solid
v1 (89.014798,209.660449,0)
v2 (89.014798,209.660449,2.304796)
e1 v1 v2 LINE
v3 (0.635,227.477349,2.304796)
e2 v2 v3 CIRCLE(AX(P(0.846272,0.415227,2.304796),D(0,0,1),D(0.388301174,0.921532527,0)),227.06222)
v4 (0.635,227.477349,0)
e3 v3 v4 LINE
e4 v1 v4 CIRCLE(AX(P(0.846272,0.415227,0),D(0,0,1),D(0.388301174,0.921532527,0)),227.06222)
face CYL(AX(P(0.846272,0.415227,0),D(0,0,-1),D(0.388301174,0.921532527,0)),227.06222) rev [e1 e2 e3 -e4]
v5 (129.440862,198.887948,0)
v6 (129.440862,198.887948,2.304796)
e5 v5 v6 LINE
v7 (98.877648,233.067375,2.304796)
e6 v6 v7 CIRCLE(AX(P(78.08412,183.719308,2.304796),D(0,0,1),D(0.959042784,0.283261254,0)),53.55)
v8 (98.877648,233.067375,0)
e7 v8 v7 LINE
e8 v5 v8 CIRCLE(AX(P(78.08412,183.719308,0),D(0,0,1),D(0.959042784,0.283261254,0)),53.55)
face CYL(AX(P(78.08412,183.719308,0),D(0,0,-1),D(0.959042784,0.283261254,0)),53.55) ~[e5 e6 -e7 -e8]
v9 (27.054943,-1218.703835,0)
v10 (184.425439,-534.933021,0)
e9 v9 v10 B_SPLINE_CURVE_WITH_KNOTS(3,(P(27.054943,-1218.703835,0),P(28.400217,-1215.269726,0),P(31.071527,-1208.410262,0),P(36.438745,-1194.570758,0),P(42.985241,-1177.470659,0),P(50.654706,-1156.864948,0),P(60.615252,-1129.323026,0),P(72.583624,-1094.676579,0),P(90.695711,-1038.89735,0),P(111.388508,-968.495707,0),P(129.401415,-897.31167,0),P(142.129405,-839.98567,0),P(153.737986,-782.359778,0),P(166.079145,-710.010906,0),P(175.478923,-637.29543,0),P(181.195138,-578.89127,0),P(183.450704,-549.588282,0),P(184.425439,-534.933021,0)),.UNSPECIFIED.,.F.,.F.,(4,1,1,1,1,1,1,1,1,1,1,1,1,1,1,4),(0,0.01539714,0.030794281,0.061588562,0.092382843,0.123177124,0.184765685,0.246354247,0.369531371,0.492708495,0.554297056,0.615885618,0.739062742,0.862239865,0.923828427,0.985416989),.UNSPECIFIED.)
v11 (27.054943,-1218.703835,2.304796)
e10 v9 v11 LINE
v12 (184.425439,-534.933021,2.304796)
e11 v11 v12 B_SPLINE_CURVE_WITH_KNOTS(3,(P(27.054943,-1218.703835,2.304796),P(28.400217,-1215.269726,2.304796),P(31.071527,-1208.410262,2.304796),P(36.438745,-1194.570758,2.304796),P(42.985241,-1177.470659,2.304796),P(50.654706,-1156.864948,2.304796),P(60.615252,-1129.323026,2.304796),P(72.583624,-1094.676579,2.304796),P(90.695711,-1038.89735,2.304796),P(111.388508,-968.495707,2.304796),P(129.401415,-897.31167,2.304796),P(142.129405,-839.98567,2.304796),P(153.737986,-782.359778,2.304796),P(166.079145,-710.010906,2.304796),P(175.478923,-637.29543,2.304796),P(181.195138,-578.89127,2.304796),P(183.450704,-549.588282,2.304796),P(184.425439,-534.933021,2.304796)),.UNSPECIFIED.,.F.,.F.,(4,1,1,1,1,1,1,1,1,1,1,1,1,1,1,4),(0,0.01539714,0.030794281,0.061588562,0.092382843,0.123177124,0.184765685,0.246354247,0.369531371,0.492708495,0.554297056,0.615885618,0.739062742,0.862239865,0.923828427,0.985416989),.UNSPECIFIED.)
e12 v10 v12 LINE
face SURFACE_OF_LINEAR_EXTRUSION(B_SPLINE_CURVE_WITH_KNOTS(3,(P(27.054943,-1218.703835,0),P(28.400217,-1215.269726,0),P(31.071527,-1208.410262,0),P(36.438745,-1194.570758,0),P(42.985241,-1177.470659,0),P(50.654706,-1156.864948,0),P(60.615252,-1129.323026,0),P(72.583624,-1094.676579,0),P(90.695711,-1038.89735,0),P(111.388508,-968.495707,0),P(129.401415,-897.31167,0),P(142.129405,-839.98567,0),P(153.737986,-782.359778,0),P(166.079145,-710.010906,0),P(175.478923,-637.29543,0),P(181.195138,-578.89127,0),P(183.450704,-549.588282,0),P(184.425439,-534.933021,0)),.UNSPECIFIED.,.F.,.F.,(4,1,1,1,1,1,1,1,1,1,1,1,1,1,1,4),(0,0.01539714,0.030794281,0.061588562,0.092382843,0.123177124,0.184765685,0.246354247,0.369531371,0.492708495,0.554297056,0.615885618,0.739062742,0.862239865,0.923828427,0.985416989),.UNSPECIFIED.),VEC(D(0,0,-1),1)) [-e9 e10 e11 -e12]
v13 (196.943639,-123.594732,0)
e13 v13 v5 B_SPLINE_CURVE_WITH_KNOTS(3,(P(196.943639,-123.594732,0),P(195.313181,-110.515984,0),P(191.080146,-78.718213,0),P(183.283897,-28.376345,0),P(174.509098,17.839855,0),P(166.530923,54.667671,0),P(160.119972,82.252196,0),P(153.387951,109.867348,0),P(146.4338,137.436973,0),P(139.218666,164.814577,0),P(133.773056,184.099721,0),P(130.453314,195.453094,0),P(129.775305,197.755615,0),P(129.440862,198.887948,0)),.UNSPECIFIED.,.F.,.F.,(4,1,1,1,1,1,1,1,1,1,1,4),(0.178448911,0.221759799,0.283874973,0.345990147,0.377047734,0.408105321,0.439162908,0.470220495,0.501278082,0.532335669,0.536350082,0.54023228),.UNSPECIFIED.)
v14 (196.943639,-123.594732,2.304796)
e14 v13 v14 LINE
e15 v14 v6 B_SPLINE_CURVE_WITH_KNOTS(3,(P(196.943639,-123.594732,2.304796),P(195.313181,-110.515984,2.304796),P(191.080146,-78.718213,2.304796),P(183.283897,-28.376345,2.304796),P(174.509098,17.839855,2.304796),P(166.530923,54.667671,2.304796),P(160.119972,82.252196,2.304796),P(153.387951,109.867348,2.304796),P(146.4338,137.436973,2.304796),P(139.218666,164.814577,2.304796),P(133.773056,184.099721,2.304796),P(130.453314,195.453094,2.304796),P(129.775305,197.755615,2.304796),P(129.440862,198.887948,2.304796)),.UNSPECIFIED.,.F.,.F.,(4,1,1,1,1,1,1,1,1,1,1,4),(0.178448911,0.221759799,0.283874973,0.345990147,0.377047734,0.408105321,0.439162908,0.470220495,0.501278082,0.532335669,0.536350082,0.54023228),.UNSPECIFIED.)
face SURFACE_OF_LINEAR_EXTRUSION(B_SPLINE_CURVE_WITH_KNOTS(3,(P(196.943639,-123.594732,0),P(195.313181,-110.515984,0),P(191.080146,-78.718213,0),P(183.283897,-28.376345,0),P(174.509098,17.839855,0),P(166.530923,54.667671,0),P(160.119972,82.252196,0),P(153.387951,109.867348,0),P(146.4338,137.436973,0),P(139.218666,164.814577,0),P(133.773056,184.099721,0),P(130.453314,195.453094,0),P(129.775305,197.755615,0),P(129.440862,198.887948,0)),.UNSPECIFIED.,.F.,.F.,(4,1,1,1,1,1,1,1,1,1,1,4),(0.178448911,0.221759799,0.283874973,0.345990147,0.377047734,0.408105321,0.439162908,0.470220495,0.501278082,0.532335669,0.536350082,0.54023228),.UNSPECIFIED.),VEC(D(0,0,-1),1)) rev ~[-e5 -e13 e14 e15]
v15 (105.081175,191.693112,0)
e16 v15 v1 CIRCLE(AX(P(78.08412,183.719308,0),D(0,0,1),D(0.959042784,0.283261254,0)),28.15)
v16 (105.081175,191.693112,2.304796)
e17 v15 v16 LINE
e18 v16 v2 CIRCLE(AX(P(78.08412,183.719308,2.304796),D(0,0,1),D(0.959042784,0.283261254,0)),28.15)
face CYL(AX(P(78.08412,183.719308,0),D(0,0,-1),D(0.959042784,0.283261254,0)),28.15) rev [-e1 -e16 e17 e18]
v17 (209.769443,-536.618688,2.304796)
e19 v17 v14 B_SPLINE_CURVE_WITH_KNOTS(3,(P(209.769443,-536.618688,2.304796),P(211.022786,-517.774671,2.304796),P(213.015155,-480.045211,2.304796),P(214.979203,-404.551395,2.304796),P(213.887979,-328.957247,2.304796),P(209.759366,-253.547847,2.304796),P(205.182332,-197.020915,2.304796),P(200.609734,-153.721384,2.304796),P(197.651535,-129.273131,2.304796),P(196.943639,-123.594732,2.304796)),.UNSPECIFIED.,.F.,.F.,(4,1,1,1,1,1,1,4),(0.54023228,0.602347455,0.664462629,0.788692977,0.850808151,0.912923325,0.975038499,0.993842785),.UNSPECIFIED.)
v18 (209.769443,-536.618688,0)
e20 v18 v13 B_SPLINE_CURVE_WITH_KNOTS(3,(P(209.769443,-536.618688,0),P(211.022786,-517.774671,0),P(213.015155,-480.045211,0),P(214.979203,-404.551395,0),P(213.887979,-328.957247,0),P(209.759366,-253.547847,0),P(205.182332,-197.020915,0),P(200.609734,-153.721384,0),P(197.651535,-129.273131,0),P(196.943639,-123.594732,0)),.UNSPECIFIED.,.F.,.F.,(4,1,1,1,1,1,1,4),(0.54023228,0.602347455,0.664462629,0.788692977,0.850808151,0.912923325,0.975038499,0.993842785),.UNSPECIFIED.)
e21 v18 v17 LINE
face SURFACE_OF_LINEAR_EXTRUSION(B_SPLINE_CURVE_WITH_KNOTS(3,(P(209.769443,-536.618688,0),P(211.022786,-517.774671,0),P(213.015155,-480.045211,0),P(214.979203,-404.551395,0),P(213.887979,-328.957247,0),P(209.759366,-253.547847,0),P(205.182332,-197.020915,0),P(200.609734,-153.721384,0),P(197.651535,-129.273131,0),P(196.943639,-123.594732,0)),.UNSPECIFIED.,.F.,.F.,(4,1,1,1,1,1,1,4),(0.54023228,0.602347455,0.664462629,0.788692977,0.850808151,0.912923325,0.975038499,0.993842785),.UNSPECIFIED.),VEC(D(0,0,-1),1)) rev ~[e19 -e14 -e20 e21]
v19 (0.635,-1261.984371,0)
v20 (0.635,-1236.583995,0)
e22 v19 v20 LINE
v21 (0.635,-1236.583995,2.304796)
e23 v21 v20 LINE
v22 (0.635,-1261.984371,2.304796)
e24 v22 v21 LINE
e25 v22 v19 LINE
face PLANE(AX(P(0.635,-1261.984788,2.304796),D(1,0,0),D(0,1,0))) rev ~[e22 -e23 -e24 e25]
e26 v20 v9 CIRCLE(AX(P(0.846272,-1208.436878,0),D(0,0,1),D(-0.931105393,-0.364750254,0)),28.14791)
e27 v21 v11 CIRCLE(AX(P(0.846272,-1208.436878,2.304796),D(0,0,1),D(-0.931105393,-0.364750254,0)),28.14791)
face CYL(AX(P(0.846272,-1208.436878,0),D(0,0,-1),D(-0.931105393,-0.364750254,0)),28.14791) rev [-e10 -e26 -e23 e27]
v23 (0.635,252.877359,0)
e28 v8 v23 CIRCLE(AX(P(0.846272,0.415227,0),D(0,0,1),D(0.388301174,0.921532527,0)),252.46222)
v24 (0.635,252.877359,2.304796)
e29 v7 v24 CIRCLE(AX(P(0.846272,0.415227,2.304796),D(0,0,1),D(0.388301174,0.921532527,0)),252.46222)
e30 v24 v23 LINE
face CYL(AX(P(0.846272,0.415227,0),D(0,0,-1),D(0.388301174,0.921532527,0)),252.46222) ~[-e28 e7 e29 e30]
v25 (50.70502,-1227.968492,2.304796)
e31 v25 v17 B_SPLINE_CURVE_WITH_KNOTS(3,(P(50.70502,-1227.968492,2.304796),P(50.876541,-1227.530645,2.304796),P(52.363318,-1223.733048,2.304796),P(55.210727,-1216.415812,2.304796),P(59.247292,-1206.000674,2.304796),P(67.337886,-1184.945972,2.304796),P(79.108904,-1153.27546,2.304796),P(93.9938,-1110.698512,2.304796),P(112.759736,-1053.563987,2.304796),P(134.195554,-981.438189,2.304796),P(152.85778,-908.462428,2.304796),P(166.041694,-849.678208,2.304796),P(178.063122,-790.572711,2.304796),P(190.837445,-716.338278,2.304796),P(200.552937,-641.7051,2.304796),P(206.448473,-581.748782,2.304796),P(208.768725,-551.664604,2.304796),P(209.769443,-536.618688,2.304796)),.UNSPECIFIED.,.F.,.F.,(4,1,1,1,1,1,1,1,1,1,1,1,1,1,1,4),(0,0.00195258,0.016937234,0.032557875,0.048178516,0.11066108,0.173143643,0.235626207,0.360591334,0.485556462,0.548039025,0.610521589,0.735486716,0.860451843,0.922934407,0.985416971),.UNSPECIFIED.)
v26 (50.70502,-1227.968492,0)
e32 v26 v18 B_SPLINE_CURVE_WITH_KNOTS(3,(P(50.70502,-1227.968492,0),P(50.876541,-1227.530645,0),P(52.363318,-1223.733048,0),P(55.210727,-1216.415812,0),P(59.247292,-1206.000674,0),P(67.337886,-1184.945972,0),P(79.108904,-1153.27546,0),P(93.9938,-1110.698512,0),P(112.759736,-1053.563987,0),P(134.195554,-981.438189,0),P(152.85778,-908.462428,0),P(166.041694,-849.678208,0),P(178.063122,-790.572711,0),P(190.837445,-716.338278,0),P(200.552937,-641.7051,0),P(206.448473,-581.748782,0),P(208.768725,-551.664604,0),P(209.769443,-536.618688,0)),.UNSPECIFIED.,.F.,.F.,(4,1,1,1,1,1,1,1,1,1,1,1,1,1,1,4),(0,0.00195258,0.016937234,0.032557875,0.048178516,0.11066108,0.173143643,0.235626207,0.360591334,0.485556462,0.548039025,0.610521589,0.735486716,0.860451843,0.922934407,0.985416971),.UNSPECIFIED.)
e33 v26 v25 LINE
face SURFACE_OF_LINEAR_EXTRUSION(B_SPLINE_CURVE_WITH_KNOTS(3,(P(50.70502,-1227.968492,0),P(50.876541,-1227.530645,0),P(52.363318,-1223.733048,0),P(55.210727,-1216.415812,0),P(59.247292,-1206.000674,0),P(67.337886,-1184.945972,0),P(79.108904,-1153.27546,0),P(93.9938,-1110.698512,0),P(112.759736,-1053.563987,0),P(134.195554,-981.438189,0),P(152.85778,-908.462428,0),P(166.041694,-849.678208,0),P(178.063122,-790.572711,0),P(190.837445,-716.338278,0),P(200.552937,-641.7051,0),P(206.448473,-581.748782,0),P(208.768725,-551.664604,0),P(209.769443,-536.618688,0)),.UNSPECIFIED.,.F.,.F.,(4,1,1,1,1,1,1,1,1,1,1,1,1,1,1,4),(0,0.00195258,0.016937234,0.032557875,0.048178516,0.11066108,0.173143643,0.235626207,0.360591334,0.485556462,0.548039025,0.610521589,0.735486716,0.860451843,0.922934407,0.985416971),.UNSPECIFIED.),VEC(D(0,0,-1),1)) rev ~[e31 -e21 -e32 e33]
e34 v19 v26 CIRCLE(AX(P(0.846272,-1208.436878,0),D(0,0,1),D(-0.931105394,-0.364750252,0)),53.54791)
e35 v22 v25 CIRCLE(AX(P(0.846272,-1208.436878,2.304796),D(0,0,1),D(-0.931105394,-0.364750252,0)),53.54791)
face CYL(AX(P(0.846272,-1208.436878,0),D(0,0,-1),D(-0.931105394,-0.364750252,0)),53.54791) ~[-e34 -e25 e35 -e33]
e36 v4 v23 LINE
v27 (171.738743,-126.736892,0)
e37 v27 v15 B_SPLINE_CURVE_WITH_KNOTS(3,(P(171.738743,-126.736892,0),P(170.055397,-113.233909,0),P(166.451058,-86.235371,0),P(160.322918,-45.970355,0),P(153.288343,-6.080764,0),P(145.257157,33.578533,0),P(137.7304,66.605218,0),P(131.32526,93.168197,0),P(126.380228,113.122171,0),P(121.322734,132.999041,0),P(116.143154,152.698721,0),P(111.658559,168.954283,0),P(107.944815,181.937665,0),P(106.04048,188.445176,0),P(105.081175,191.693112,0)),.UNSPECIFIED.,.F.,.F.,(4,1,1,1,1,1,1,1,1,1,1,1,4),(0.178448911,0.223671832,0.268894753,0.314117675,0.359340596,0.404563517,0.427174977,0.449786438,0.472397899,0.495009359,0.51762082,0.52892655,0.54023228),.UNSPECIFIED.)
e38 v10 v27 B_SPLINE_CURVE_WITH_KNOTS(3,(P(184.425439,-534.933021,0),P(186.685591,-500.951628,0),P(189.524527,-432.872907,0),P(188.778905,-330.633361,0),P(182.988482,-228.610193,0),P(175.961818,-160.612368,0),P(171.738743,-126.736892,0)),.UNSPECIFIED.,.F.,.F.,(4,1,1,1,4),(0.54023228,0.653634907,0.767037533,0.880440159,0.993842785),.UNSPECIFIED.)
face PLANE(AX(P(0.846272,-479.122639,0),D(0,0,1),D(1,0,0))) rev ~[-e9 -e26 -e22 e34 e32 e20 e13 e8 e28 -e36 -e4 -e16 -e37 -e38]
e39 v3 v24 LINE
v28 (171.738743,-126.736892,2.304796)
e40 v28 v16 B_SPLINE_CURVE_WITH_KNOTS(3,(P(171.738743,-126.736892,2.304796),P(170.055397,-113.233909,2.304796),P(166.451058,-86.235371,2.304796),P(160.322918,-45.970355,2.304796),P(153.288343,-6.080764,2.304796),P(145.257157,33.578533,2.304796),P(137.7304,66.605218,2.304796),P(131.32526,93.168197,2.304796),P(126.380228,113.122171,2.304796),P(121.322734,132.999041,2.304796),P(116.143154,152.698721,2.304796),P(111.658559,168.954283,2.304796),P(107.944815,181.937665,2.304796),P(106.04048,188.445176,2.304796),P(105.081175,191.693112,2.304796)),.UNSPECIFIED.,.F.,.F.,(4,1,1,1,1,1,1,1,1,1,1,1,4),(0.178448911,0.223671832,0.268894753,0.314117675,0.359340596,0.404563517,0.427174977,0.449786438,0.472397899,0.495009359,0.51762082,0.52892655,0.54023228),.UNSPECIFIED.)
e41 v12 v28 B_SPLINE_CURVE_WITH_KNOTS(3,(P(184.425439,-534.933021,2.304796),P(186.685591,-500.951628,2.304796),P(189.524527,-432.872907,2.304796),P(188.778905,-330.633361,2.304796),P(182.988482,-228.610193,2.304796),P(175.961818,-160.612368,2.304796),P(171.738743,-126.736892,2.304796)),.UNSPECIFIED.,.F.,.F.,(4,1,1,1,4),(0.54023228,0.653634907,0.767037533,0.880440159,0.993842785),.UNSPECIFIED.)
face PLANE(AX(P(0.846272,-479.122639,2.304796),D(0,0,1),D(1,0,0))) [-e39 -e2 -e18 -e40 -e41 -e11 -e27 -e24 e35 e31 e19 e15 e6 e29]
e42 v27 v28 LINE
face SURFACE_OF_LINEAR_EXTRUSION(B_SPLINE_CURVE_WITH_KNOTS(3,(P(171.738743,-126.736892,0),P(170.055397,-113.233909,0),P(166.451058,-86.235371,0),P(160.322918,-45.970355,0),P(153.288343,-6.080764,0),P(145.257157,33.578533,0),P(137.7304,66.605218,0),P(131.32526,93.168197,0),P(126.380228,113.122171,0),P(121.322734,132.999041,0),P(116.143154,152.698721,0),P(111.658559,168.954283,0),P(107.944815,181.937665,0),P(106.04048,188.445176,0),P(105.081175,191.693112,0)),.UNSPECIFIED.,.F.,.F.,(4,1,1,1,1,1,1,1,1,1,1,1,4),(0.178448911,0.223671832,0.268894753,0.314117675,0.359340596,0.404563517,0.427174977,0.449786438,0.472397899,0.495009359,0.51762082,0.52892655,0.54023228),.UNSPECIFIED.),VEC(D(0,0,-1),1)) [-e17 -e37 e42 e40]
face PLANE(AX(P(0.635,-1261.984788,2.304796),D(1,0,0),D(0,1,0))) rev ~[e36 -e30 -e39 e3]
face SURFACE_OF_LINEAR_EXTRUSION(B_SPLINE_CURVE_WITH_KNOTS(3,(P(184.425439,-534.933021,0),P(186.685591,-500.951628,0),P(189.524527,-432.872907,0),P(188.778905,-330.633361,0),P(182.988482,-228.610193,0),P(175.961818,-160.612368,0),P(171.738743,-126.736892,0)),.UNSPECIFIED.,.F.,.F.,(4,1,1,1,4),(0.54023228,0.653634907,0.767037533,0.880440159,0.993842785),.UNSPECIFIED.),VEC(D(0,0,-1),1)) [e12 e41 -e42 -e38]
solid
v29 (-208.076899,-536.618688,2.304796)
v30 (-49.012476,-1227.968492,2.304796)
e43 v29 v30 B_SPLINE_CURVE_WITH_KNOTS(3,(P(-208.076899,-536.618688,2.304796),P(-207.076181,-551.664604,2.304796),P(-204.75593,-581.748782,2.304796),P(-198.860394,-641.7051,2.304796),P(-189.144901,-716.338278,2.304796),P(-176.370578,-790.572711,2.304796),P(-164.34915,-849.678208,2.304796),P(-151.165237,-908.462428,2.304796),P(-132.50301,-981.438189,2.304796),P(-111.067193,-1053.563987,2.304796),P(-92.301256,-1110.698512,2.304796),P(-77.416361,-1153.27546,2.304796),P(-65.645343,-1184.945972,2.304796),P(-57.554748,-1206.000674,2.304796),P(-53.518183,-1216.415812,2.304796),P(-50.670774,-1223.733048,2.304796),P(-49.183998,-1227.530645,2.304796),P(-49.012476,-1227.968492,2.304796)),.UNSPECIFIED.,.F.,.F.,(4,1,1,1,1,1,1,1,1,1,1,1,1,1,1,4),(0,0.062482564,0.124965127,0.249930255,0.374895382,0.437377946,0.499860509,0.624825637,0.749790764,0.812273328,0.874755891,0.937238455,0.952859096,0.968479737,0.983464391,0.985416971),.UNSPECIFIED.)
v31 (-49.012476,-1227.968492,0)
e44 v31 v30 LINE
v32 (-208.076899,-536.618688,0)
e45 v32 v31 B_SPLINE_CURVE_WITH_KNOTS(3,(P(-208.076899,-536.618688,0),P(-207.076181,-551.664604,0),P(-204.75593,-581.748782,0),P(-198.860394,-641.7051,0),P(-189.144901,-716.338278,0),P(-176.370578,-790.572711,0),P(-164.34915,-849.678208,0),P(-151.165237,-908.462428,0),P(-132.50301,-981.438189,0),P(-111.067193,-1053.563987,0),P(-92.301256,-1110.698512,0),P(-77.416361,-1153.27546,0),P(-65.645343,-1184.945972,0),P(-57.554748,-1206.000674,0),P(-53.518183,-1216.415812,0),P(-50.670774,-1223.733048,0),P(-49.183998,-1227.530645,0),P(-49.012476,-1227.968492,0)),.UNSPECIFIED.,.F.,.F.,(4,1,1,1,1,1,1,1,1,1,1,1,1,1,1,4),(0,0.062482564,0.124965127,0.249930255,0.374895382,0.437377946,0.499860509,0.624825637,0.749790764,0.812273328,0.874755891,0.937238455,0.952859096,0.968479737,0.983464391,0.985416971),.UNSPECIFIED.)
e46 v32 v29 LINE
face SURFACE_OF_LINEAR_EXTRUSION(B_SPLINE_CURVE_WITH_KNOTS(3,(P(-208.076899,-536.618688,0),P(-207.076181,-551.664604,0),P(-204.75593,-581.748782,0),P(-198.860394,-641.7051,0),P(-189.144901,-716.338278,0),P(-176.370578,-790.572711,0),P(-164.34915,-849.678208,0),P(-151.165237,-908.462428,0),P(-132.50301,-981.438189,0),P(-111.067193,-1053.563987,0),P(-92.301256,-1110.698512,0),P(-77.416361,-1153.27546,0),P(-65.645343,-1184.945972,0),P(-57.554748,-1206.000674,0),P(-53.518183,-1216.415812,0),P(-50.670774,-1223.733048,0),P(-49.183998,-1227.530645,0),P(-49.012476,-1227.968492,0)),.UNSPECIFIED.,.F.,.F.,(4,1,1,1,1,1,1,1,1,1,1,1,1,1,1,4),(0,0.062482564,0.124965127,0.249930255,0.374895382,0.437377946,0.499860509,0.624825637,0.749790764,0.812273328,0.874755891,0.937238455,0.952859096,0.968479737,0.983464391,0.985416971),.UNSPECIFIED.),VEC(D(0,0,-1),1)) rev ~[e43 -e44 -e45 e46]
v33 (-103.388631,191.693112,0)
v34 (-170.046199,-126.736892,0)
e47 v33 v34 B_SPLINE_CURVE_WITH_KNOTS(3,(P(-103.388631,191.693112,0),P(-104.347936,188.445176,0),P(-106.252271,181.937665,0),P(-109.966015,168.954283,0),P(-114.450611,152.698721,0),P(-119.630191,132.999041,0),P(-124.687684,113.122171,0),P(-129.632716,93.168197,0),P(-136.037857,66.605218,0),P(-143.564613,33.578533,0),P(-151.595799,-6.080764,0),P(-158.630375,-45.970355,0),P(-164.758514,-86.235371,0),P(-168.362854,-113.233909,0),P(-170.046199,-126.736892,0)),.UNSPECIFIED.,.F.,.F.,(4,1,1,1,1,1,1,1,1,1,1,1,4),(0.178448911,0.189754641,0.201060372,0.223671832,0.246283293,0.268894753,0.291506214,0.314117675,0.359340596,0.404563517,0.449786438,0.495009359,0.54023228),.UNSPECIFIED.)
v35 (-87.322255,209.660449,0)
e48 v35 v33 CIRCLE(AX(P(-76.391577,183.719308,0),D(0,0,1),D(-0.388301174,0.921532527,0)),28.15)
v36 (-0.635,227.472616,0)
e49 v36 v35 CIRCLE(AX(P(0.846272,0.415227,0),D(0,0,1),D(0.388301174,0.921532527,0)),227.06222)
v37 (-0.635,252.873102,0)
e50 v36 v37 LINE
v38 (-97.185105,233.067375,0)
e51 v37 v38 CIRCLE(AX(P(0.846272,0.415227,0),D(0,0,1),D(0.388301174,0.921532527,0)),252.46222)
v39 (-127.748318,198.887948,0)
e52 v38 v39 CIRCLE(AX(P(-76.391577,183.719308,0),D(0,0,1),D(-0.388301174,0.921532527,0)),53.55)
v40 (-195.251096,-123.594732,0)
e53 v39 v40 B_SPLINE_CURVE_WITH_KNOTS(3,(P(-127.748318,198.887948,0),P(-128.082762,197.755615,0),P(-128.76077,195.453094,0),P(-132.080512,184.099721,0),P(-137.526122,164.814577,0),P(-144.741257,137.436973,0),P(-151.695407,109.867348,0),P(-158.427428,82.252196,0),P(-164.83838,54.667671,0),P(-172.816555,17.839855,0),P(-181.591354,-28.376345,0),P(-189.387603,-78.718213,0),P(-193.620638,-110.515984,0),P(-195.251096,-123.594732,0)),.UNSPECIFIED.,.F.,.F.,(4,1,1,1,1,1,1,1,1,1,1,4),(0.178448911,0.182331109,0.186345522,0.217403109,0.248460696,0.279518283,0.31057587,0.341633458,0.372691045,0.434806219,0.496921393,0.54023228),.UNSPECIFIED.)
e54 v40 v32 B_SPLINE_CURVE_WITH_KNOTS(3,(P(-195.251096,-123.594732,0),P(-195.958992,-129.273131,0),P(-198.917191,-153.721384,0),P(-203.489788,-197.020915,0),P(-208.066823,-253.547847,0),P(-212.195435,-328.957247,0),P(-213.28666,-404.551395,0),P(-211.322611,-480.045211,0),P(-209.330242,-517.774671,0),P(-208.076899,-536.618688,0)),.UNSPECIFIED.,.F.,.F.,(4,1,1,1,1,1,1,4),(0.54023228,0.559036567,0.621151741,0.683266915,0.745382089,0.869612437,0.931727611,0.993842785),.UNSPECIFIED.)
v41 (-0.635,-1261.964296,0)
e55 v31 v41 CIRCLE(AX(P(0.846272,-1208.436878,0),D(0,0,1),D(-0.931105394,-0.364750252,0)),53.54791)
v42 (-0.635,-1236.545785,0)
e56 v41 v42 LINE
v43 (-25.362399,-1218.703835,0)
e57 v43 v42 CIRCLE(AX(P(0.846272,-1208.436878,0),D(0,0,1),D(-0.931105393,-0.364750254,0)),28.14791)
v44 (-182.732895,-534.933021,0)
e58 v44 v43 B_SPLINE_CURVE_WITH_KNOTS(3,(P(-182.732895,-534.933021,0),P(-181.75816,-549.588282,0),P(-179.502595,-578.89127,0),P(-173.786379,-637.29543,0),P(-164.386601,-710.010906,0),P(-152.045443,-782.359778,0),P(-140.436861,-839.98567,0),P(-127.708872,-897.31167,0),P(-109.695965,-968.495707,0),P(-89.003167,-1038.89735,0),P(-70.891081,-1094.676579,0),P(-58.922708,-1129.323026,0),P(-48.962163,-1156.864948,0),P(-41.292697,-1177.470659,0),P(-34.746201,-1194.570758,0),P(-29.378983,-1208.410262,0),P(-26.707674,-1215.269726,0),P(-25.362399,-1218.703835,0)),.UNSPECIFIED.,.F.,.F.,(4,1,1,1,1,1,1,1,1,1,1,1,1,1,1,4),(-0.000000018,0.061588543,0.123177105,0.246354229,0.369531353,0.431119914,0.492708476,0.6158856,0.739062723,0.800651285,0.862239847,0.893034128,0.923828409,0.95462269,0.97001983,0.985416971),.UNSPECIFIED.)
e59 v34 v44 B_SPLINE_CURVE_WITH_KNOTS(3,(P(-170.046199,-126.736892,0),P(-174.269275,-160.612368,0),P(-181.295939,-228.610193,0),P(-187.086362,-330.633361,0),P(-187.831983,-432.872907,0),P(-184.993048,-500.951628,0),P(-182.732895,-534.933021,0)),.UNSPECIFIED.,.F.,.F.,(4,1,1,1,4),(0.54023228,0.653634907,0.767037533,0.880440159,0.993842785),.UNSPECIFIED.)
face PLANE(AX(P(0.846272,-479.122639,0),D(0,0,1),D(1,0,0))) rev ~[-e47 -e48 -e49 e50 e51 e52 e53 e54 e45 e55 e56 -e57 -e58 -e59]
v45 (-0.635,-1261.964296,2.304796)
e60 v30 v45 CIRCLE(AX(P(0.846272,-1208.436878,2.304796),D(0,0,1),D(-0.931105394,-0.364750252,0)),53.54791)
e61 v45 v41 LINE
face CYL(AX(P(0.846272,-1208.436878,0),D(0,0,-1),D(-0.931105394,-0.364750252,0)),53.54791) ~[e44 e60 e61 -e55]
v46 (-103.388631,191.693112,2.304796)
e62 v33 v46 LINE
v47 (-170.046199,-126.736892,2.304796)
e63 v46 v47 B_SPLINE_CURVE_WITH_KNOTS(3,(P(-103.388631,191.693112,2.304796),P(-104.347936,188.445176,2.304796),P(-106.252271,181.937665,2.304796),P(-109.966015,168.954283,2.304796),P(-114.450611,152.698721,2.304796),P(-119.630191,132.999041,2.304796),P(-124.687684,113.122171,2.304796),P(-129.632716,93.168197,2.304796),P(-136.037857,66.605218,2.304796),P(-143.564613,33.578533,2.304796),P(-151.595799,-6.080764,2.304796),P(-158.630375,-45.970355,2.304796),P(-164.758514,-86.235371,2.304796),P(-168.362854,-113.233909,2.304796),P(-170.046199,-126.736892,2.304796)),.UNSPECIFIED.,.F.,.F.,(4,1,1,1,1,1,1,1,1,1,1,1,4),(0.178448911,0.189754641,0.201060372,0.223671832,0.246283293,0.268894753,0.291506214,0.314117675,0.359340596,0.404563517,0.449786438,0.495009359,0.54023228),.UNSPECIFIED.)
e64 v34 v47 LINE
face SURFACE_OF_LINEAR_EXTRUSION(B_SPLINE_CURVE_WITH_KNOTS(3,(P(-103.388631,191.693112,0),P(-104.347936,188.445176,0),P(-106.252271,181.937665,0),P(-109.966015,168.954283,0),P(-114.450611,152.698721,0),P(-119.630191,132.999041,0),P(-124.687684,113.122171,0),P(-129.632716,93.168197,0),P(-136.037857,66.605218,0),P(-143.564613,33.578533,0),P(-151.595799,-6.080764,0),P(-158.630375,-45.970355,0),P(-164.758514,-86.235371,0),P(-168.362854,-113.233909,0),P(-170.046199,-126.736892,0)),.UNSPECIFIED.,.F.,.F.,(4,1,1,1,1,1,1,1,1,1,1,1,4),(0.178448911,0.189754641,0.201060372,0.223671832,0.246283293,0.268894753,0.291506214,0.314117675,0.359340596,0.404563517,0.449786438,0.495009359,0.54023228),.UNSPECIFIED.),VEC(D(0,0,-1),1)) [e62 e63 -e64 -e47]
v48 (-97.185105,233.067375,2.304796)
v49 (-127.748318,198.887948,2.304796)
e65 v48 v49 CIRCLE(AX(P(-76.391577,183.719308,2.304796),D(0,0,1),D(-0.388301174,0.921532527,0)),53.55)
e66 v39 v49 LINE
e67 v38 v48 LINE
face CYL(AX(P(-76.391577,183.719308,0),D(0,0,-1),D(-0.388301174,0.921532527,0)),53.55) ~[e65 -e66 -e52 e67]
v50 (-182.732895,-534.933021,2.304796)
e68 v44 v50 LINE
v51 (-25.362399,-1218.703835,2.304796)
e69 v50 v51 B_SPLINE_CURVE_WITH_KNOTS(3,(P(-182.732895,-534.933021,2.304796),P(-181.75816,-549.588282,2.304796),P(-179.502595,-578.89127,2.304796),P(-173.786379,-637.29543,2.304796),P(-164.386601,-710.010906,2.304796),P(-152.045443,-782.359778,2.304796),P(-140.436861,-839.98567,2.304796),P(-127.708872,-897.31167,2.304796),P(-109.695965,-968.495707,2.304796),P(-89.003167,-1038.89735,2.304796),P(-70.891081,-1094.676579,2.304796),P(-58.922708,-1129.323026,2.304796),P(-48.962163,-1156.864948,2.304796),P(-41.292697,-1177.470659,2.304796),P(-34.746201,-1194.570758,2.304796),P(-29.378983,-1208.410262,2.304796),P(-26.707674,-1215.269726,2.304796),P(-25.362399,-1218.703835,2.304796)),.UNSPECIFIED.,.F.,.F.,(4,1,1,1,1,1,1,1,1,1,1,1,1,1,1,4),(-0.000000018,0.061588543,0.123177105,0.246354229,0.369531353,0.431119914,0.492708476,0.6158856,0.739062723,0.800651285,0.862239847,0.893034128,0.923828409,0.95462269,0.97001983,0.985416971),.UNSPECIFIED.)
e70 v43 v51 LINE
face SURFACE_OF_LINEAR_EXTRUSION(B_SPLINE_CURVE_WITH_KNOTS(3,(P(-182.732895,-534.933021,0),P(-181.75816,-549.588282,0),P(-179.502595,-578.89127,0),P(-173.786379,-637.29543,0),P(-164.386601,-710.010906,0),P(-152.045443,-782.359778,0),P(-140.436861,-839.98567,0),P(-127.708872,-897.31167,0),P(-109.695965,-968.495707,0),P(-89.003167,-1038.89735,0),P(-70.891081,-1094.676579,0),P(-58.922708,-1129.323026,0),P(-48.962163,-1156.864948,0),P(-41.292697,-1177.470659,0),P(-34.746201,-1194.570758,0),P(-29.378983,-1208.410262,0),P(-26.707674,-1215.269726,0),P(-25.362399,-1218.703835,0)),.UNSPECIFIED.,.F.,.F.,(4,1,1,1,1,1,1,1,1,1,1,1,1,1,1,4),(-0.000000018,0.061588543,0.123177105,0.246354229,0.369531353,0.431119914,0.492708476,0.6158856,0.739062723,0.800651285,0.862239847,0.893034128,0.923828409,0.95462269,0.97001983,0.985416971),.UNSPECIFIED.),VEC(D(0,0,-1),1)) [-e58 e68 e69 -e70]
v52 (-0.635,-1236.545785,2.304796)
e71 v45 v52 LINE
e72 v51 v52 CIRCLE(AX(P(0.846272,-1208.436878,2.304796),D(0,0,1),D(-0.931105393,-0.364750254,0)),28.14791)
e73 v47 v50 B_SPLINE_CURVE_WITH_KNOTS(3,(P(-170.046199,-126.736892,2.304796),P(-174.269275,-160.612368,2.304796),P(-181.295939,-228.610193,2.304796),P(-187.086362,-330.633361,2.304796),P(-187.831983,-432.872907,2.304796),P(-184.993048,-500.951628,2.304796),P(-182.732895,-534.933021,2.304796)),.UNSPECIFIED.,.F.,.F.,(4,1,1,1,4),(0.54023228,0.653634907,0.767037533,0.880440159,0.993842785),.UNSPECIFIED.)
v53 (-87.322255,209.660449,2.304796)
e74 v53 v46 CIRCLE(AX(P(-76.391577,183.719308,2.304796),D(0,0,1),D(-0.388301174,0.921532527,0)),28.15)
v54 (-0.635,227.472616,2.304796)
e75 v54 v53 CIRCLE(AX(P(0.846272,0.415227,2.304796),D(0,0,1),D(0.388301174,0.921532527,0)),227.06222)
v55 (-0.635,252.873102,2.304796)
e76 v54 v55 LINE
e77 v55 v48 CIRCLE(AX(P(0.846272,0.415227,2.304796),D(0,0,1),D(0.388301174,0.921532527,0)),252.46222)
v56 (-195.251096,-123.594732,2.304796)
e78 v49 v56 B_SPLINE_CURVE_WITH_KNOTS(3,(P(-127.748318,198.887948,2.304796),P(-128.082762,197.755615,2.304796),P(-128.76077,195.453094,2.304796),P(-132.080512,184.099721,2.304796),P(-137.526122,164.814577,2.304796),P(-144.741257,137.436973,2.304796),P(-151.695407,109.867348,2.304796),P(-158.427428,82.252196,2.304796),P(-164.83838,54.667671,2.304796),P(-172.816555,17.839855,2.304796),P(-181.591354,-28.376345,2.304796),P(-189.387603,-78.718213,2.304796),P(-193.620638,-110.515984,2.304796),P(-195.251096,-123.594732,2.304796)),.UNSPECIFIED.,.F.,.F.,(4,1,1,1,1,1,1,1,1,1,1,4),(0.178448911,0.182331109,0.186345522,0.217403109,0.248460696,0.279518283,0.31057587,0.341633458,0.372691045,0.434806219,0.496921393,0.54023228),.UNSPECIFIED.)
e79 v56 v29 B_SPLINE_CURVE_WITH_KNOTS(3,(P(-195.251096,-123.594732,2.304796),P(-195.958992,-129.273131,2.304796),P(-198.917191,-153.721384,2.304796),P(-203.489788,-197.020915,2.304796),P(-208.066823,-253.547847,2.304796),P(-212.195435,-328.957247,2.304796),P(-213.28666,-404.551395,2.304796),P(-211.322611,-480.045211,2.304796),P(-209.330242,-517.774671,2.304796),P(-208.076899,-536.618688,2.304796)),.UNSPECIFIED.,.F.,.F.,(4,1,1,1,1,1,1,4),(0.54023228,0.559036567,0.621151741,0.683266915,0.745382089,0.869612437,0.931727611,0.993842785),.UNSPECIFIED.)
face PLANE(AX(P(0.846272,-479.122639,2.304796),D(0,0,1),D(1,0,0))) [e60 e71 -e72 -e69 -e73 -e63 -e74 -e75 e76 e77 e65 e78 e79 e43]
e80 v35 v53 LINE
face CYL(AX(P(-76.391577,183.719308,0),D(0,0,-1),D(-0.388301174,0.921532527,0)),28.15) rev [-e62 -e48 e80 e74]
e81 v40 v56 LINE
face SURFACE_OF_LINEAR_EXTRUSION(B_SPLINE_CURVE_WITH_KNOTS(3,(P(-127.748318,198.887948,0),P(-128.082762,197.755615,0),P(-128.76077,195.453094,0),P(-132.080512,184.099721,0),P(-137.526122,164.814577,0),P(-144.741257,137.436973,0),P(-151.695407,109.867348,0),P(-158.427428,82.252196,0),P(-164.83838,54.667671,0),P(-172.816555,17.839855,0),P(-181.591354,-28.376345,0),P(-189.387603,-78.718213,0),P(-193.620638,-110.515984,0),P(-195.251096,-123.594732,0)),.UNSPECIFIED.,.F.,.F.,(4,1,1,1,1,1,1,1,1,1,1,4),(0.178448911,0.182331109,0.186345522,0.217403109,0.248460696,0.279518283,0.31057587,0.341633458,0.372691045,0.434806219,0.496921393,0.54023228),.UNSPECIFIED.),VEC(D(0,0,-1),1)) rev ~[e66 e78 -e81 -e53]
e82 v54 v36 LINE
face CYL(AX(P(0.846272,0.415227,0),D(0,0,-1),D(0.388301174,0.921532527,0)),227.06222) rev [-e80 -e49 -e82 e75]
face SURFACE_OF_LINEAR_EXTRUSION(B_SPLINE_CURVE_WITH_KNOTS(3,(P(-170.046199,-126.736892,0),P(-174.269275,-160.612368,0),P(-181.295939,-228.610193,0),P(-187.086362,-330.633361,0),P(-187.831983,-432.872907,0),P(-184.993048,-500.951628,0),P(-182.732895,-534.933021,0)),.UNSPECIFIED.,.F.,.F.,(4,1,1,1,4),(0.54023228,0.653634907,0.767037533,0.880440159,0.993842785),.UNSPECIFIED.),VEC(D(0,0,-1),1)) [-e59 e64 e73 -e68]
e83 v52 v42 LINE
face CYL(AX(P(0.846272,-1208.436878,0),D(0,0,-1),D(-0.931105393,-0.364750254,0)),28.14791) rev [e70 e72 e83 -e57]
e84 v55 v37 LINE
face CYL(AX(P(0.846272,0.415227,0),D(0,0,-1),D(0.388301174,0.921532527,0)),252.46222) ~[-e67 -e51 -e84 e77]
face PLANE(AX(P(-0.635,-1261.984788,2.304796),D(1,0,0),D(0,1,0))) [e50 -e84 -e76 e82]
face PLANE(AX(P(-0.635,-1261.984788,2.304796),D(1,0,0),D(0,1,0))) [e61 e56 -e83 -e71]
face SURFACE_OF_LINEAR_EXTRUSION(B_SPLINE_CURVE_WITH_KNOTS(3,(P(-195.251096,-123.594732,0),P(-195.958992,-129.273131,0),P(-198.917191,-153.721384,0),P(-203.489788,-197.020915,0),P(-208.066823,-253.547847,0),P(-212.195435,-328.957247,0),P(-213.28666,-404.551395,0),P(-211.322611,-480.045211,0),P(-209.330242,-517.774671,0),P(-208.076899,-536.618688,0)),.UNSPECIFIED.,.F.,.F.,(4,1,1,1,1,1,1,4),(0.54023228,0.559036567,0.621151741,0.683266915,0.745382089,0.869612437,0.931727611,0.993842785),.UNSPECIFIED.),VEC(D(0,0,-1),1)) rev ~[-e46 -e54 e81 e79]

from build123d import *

# Parameters (mm, degrees)
BOSS_EXTRUDE1_DEPTH = 2.304796
SKETCH2_W           = 1.27
SKETCH2_H           = 1514.862147185
CUT_EXTRUDE1_DEPTH  = 1281.069351502


with BuildPart() as part:
    # Sketch1 → Boss-Extrude1 (new body)
    with BuildSketch(Plane.XY):
        with BuildLine():
            ThreePointArc((-49.012476183, -1227.968491723), (0.846271763, -1261.984788161), (50.705019709, -1227.968491723))
            add(Edge.make_bspline(
                [(50.705019709, -1227.968491723), (50.876541485, -1227.530644592), (52.36331753, -1223.733048391), (55.210726992, -1216.415811635), (59.247291668, -1206.0006738), (67.337886034, -1184.945972411), (79.108904217, -1153.275459712), (93.993799852, -1110.698512309), (112.759736252, -1053.563986738), (134.195553597, -981.438188519), (152.857780036, -908.462427511), (166.041693988, -849.678207818), (178.063122018, -790.572711444), (190.83744454, -716.338277578), (200.552937094, -641.705100049), (206.448473168, -581.748781993), (208.768724854, -551.664603861), (209.769442798, -536.618687959)],
                knots=[0, 0, 0, 0, 0.00195258, 0.016937234, 0.032557875, 0.048178516, 0.11066108, 0.173143643, 0.235626207, 0.360591334, 0.485556462, 0.548039025, 0.610521589, 0.735486716, 0.860451843, 0.922934407, 0.985416971, 0.985416971, 0.985416971, 0.985416971], degree=3))
            add(Edge.make_bspline(
                [(209.769442798, -536.618687959), (211.022785934, -517.774670682), (213.015154655, -480.045210541), (214.979203287, -404.551394934), (213.887978686, -328.957247078), (209.759366173, -253.547846613), (205.182331515, -197.02091496), (200.609734071, -153.721383907), (197.651535298, -129.273131339), (196.943639376, -123.594731745)],
                knots=[0.54023228, 0.54023228, 0.54023228, 0.54023228, 0.602347455, 0.664462629, 0.788692977, 0.850808151, 0.912923325, 0.975038499, 0.993842785, 0.993842785, 0.993842785, 0.993842785], degree=3))
            add(Edge.make_bspline(
                [(196.943639376, -123.594731745), (195.313181288, -110.515983509), (191.080146378, -78.718212884), (183.283897421, -28.376345026), (174.50909818, 17.839855462), (166.530923366, 54.667671174), (160.119972002, 82.252196411), (153.387950608, 109.867348445), (146.433800478, 137.436973344), (139.218665538, 164.814576611), (133.773055793, 184.09972107), (130.453314003, 195.45309398), (129.775305463, 197.755615438), (129.440861548, 198.887948289)],
                knots=[0.178448911, 0.178448911, 0.178448911, 0.178448911, 0.221759799, 0.283874973, 0.345990147, 0.377047734, 0.408105321, 0.439162908, 0.470220495, 0.501278082, 0.532335669, 0.536350082, 0.54023228, 0.54023228, 0.54023228, 0.54023228], degree=3))
            ThreePointArc((129.440861548, 198.887948289), (118.002457463, 219.414249941), (98.877648319, 233.067374959))
            ThreePointArc((98.877648319, 233.067374959), (0.846271763, 252.877447424), (-97.185104793, 233.067374959))
            ThreePointArc((-97.185104793, 233.067374959), (-116.309913937, 219.414249941), (-127.748318022, 198.887948289))
            add(Edge.make_bspline(
                [(-127.748318022, 198.887948289), (-128.082761937, 197.755615438), (-128.760770477, 195.45309398), (-132.080512266, 184.09972107), (-137.526122011, 164.814576611), (-144.741256951, 137.436973344), (-151.695407081, 109.867348445), (-158.427428476, 82.252196411), (-164.83837984, 54.667671174), (-172.816554654, 17.839855462), (-181.591353895, -28.376345026), (-189.387602851, -78.718212884), (-193.620637762, -110.515983509), (-195.251095849, -123.594731745)],
                knots=[0.178448911, 0.178448911, 0.178448911, 0.178448911, 0.182331109, 0.186345522, 0.217403109, 0.248460696, 0.279518283, 0.31057587, 0.341633458, 0.372691045, 0.434806219, 0.496921393, 0.54023228, 0.54023228, 0.54023228, 0.54023228], degree=3))
            add(Edge.make_bspline(
                [(-195.251095849, -123.594731745), (-195.958991771, -129.273131339), (-198.917190544, -153.721383907), (-203.489787989, -197.02091496), (-208.066822647, -253.547846613), (-212.19543516, -328.957247078), (-213.28665976, -404.551394934), (-211.322611129, -480.045210541), (-209.330242407, -517.774670682), (-208.076899272, -536.618687959)],
                knots=[0.54023228, 0.54023228, 0.54023228, 0.54023228, 0.559036567, 0.621151741, 0.683266915, 0.745382089, 0.869612437, 0.931727611, 0.993842785, 0.993842785, 0.993842785, 0.993842785], degree=3))
            add(Edge.make_bspline(
                [(-208.076899272, -536.618687959), (-207.076181328, -551.664603861), (-204.755929642, -581.748781993), (-198.860393568, -641.705100049), (-189.144901014, -716.338277578), (-176.370578492, -790.572711444), (-164.349150462, -849.678207818), (-151.165236509, -908.462427511), (-132.503010071, -981.438188519), (-111.067192726, -1053.563986738), (-92.301256326, -1110.698512309), (-77.416360691, -1153.275459712), (-65.645342508, -1184.945972411), (-57.554748142, -1206.0006738), (-53.518183465, -1216.415811635), (-50.670774003, -1223.733048391), (-49.183997958, -1227.530644592), (-49.012476183, -1227.968491723)],
                knots=[0, 0, 0, 0, 0.062482564, 0.124965127, 0.249930255, 0.374895382, 0.437377946, 0.499860509, 0.624825637, 0.749790764, 0.812273328, 0.874755891, 0.937238455, 0.952859096, 0.968479737, 0.983464391, 0.985416971, 0.985416971, 0.985416971, 0.985416971], degree=3))
        make_face()
        with BuildLine():
            ThreePointArc((-25.362399167, -1218.703835381), (0.846271763, -1236.584788161), (27.054942693, -1218.703835381))
            add(Edge.make_bspline(
                [(27.054942693, -1218.703835381), (28.400217106, -1215.269725977), (31.071527006, -1208.410261533), (36.438744963, -1194.570757623), (42.985240683, -1177.47065912), (50.654706246, -1156.86494819), (60.615251709, -1129.323026418), (72.583624331, -1094.676579393), (90.695710655, -1038.897350426), (111.388508474, -968.495707326), (129.401415384, -897.311669678), (142.129404955, -839.985670396), (153.737986392, -782.359777703), (166.079144877, -710.010906133), (175.478922652, -637.295429512), (181.195138388, -578.89126959), (183.45070388, -549.588282457), (184.425439017, -534.933021219)],
                knots=[0, 0, 0, 0, 0.01539714, 0.030794281, 0.061588562, 0.092382843, 0.123177124, 0.184765685, 0.246354247, 0.369531371, 0.492708495, 0.554297056, 0.615885618, 0.739062742, 0.862239865, 0.923828427, 0.985416989, 0.985416989, 0.985416989, 0.985416989], degree=3))
            add(Edge.make_bspline(
                [(184.425439017, -534.933021219), (186.685591164, -500.951627859), (189.524526931, -432.872907401), (188.778905417, -330.633361226), (182.988482095, -228.610193148), (175.9618181, -160.612367611), (171.7387425, -126.736892387)],
                knots=[0.54023228, 0.54023228, 0.54023228, 0.54023228, 0.653634907, 0.767037533, 0.880440159, 0.993842785, 0.993842785, 0.993842785, 0.993842785], degree=3))
            add(Edge.make_bspline(
                [(171.7387425, -126.736892387), (170.055397257, -113.233908903), (166.451057758, -86.235371304), (160.322918197, -45.970354742), (153.28834279, -6.080764228), (145.25715691, 33.578532738), (137.730400326, 66.60521796), (131.32525971, 93.168196548), (126.380227886, 113.122171485), (121.322734312, 132.999041364), (116.143154484, 152.69872086), (111.658558519, 168.954283037), (107.94481502, 181.937664809), (106.040479885, 188.445175846), (105.081174829, 191.693112438)],
                knots=[0.178448911, 0.178448911, 0.178448911, 0.178448911, 0.223671832, 0.268894753, 0.314117675, 0.359340596, 0.404563517, 0.427174977, 0.449786438, 0.472397899, 0.495009359, 0.51762082, 0.52892655, 0.54023228, 0.54023228, 0.54023228, 0.54023228], degree=3))
            ThreePointArc((105.081174829, 191.693112438), (99.0682696, 202.483315828), (89.0147985, 209.660448774))
            ThreePointArc((89.0147985, 209.660448774), (0.846271763, 227.477447424), (-87.322254974, 209.660448774))
            ThreePointArc((-87.322254974, 209.660448774), (-97.375726074, 202.483315828), (-103.388631302, 191.693112438))
            add(Edge.make_bspline(
                [(-103.388631302, 191.693112438), (-104.347936358, 188.445175846), (-106.252271493, 181.937664809), (-109.966014993, 168.954283037), (-114.450610958, 152.69872086), (-119.630190785, 132.999041364), (-124.68768436, 113.122171485), (-129.632716184, 93.168196548), (-136.037856799, 66.60521796), (-143.564613383, 33.578532738), (-151.595799264, -6.080764228), (-158.630374671, -45.970354742), (-164.758514232, -86.235371304), (-168.362853731, -113.233908903), (-170.046198974, -126.736892387)],
                knots=[0.178448911, 0.178448911, 0.178448911, 0.178448911, 0.189754641, 0.201060372, 0.223671832, 0.246283293, 0.268894753, 0.291506214, 0.314117675, 0.359340596, 0.404563517, 0.449786438, 0.495009359, 0.54023228, 0.54023228, 0.54023228, 0.54023228], degree=3))
            add(Edge.make_bspline(
                [(-170.046198974, -126.736892387), (-174.269274574, -160.612367611), (-181.295938569, -228.610193148), (-187.086361891, -330.633361226), (-187.831983404, -432.872907401), (-184.993047638, -500.951627859), (-182.732895491, -534.93302122)],
                knots=[0.54023228, 0.54023228, 0.54023228, 0.54023228, 0.653634907, 0.767037533, 0.880440159, 0.993842785, 0.993842785, 0.993842785, 0.993842785], degree=3))
            add(Edge.make_bspline(
                [(-182.732895491, -534.93302122), (-181.758160354, -549.588282457), (-179.502594861, -578.89126959), (-173.786379125, -637.295429512), (-164.386601351, -710.010906133), (-152.045442866, -782.359777703), (-140.436861429, -839.985670396), (-127.708871858, -897.311669678), (-109.695964947, -968.495707326), (-89.003167129, -1038.897350426), (-70.891080805, -1094.676579393), (-58.922708183, -1129.323026418), (-48.96216272, -1156.86494819), (-41.292697157, -1177.47065912), (-34.746201437, -1194.570757623), (-29.378983479, -1208.410261533), (-26.70767358, -1215.269725977), (-25.362399167, -1218.703835381)],
                knots=[-1.8e-08, -1.8e-08, -1.8e-08, -1.8e-08, 0.061588543, 0.123177105, 0.246354229, 0.369531353, 0.431119914, 0.492708476, 0.6158856, 0.739062723, 0.800651285, 0.862239847, 0.893034128, 0.923828409, 0.95462269, 0.97001983, 0.985416971, 0.985416971, 0.985416971, 0.985416971], degree=3))
        make_face(mode=Mode.SUBTRACT)
    extrude(amount=BOSS_EXTRUDE1_DEPTH)

    # Sketch2 → Cut-Extrude1 (cut, through all)
    with BuildSketch(Plane.XY.offset(2.304796)):
        with Locations((0, -504.553714569)):
            Rectangle(SKETCH2_W, SKETCH2_H)
    extrude(amount=-CUT_EXTRUDE1_DEPTH, mode=Mode.SUBTRACT)


with BuildPart() as cut_extrude1_piece_1:
    # of the separate pieces the step leaves, piece 1, a body of its own (cut_extrude1_pieces)
    add(part.part.solids().sort_by_distance((98.877648319, 233.067374959, 0))[0])


with BuildPart() as cut_extrude1_piece_2:
    # of the separate pieces the step leaves, piece 2, a body of its own (cut_extrude1_pieces)
    add(part.part.solids().sort_by_distance((-97.185104793, 233.067374959, 0))[0])


solid = Compound([cut_extrude1_piece_1.part, cut_extrude1_piece_2.part])
